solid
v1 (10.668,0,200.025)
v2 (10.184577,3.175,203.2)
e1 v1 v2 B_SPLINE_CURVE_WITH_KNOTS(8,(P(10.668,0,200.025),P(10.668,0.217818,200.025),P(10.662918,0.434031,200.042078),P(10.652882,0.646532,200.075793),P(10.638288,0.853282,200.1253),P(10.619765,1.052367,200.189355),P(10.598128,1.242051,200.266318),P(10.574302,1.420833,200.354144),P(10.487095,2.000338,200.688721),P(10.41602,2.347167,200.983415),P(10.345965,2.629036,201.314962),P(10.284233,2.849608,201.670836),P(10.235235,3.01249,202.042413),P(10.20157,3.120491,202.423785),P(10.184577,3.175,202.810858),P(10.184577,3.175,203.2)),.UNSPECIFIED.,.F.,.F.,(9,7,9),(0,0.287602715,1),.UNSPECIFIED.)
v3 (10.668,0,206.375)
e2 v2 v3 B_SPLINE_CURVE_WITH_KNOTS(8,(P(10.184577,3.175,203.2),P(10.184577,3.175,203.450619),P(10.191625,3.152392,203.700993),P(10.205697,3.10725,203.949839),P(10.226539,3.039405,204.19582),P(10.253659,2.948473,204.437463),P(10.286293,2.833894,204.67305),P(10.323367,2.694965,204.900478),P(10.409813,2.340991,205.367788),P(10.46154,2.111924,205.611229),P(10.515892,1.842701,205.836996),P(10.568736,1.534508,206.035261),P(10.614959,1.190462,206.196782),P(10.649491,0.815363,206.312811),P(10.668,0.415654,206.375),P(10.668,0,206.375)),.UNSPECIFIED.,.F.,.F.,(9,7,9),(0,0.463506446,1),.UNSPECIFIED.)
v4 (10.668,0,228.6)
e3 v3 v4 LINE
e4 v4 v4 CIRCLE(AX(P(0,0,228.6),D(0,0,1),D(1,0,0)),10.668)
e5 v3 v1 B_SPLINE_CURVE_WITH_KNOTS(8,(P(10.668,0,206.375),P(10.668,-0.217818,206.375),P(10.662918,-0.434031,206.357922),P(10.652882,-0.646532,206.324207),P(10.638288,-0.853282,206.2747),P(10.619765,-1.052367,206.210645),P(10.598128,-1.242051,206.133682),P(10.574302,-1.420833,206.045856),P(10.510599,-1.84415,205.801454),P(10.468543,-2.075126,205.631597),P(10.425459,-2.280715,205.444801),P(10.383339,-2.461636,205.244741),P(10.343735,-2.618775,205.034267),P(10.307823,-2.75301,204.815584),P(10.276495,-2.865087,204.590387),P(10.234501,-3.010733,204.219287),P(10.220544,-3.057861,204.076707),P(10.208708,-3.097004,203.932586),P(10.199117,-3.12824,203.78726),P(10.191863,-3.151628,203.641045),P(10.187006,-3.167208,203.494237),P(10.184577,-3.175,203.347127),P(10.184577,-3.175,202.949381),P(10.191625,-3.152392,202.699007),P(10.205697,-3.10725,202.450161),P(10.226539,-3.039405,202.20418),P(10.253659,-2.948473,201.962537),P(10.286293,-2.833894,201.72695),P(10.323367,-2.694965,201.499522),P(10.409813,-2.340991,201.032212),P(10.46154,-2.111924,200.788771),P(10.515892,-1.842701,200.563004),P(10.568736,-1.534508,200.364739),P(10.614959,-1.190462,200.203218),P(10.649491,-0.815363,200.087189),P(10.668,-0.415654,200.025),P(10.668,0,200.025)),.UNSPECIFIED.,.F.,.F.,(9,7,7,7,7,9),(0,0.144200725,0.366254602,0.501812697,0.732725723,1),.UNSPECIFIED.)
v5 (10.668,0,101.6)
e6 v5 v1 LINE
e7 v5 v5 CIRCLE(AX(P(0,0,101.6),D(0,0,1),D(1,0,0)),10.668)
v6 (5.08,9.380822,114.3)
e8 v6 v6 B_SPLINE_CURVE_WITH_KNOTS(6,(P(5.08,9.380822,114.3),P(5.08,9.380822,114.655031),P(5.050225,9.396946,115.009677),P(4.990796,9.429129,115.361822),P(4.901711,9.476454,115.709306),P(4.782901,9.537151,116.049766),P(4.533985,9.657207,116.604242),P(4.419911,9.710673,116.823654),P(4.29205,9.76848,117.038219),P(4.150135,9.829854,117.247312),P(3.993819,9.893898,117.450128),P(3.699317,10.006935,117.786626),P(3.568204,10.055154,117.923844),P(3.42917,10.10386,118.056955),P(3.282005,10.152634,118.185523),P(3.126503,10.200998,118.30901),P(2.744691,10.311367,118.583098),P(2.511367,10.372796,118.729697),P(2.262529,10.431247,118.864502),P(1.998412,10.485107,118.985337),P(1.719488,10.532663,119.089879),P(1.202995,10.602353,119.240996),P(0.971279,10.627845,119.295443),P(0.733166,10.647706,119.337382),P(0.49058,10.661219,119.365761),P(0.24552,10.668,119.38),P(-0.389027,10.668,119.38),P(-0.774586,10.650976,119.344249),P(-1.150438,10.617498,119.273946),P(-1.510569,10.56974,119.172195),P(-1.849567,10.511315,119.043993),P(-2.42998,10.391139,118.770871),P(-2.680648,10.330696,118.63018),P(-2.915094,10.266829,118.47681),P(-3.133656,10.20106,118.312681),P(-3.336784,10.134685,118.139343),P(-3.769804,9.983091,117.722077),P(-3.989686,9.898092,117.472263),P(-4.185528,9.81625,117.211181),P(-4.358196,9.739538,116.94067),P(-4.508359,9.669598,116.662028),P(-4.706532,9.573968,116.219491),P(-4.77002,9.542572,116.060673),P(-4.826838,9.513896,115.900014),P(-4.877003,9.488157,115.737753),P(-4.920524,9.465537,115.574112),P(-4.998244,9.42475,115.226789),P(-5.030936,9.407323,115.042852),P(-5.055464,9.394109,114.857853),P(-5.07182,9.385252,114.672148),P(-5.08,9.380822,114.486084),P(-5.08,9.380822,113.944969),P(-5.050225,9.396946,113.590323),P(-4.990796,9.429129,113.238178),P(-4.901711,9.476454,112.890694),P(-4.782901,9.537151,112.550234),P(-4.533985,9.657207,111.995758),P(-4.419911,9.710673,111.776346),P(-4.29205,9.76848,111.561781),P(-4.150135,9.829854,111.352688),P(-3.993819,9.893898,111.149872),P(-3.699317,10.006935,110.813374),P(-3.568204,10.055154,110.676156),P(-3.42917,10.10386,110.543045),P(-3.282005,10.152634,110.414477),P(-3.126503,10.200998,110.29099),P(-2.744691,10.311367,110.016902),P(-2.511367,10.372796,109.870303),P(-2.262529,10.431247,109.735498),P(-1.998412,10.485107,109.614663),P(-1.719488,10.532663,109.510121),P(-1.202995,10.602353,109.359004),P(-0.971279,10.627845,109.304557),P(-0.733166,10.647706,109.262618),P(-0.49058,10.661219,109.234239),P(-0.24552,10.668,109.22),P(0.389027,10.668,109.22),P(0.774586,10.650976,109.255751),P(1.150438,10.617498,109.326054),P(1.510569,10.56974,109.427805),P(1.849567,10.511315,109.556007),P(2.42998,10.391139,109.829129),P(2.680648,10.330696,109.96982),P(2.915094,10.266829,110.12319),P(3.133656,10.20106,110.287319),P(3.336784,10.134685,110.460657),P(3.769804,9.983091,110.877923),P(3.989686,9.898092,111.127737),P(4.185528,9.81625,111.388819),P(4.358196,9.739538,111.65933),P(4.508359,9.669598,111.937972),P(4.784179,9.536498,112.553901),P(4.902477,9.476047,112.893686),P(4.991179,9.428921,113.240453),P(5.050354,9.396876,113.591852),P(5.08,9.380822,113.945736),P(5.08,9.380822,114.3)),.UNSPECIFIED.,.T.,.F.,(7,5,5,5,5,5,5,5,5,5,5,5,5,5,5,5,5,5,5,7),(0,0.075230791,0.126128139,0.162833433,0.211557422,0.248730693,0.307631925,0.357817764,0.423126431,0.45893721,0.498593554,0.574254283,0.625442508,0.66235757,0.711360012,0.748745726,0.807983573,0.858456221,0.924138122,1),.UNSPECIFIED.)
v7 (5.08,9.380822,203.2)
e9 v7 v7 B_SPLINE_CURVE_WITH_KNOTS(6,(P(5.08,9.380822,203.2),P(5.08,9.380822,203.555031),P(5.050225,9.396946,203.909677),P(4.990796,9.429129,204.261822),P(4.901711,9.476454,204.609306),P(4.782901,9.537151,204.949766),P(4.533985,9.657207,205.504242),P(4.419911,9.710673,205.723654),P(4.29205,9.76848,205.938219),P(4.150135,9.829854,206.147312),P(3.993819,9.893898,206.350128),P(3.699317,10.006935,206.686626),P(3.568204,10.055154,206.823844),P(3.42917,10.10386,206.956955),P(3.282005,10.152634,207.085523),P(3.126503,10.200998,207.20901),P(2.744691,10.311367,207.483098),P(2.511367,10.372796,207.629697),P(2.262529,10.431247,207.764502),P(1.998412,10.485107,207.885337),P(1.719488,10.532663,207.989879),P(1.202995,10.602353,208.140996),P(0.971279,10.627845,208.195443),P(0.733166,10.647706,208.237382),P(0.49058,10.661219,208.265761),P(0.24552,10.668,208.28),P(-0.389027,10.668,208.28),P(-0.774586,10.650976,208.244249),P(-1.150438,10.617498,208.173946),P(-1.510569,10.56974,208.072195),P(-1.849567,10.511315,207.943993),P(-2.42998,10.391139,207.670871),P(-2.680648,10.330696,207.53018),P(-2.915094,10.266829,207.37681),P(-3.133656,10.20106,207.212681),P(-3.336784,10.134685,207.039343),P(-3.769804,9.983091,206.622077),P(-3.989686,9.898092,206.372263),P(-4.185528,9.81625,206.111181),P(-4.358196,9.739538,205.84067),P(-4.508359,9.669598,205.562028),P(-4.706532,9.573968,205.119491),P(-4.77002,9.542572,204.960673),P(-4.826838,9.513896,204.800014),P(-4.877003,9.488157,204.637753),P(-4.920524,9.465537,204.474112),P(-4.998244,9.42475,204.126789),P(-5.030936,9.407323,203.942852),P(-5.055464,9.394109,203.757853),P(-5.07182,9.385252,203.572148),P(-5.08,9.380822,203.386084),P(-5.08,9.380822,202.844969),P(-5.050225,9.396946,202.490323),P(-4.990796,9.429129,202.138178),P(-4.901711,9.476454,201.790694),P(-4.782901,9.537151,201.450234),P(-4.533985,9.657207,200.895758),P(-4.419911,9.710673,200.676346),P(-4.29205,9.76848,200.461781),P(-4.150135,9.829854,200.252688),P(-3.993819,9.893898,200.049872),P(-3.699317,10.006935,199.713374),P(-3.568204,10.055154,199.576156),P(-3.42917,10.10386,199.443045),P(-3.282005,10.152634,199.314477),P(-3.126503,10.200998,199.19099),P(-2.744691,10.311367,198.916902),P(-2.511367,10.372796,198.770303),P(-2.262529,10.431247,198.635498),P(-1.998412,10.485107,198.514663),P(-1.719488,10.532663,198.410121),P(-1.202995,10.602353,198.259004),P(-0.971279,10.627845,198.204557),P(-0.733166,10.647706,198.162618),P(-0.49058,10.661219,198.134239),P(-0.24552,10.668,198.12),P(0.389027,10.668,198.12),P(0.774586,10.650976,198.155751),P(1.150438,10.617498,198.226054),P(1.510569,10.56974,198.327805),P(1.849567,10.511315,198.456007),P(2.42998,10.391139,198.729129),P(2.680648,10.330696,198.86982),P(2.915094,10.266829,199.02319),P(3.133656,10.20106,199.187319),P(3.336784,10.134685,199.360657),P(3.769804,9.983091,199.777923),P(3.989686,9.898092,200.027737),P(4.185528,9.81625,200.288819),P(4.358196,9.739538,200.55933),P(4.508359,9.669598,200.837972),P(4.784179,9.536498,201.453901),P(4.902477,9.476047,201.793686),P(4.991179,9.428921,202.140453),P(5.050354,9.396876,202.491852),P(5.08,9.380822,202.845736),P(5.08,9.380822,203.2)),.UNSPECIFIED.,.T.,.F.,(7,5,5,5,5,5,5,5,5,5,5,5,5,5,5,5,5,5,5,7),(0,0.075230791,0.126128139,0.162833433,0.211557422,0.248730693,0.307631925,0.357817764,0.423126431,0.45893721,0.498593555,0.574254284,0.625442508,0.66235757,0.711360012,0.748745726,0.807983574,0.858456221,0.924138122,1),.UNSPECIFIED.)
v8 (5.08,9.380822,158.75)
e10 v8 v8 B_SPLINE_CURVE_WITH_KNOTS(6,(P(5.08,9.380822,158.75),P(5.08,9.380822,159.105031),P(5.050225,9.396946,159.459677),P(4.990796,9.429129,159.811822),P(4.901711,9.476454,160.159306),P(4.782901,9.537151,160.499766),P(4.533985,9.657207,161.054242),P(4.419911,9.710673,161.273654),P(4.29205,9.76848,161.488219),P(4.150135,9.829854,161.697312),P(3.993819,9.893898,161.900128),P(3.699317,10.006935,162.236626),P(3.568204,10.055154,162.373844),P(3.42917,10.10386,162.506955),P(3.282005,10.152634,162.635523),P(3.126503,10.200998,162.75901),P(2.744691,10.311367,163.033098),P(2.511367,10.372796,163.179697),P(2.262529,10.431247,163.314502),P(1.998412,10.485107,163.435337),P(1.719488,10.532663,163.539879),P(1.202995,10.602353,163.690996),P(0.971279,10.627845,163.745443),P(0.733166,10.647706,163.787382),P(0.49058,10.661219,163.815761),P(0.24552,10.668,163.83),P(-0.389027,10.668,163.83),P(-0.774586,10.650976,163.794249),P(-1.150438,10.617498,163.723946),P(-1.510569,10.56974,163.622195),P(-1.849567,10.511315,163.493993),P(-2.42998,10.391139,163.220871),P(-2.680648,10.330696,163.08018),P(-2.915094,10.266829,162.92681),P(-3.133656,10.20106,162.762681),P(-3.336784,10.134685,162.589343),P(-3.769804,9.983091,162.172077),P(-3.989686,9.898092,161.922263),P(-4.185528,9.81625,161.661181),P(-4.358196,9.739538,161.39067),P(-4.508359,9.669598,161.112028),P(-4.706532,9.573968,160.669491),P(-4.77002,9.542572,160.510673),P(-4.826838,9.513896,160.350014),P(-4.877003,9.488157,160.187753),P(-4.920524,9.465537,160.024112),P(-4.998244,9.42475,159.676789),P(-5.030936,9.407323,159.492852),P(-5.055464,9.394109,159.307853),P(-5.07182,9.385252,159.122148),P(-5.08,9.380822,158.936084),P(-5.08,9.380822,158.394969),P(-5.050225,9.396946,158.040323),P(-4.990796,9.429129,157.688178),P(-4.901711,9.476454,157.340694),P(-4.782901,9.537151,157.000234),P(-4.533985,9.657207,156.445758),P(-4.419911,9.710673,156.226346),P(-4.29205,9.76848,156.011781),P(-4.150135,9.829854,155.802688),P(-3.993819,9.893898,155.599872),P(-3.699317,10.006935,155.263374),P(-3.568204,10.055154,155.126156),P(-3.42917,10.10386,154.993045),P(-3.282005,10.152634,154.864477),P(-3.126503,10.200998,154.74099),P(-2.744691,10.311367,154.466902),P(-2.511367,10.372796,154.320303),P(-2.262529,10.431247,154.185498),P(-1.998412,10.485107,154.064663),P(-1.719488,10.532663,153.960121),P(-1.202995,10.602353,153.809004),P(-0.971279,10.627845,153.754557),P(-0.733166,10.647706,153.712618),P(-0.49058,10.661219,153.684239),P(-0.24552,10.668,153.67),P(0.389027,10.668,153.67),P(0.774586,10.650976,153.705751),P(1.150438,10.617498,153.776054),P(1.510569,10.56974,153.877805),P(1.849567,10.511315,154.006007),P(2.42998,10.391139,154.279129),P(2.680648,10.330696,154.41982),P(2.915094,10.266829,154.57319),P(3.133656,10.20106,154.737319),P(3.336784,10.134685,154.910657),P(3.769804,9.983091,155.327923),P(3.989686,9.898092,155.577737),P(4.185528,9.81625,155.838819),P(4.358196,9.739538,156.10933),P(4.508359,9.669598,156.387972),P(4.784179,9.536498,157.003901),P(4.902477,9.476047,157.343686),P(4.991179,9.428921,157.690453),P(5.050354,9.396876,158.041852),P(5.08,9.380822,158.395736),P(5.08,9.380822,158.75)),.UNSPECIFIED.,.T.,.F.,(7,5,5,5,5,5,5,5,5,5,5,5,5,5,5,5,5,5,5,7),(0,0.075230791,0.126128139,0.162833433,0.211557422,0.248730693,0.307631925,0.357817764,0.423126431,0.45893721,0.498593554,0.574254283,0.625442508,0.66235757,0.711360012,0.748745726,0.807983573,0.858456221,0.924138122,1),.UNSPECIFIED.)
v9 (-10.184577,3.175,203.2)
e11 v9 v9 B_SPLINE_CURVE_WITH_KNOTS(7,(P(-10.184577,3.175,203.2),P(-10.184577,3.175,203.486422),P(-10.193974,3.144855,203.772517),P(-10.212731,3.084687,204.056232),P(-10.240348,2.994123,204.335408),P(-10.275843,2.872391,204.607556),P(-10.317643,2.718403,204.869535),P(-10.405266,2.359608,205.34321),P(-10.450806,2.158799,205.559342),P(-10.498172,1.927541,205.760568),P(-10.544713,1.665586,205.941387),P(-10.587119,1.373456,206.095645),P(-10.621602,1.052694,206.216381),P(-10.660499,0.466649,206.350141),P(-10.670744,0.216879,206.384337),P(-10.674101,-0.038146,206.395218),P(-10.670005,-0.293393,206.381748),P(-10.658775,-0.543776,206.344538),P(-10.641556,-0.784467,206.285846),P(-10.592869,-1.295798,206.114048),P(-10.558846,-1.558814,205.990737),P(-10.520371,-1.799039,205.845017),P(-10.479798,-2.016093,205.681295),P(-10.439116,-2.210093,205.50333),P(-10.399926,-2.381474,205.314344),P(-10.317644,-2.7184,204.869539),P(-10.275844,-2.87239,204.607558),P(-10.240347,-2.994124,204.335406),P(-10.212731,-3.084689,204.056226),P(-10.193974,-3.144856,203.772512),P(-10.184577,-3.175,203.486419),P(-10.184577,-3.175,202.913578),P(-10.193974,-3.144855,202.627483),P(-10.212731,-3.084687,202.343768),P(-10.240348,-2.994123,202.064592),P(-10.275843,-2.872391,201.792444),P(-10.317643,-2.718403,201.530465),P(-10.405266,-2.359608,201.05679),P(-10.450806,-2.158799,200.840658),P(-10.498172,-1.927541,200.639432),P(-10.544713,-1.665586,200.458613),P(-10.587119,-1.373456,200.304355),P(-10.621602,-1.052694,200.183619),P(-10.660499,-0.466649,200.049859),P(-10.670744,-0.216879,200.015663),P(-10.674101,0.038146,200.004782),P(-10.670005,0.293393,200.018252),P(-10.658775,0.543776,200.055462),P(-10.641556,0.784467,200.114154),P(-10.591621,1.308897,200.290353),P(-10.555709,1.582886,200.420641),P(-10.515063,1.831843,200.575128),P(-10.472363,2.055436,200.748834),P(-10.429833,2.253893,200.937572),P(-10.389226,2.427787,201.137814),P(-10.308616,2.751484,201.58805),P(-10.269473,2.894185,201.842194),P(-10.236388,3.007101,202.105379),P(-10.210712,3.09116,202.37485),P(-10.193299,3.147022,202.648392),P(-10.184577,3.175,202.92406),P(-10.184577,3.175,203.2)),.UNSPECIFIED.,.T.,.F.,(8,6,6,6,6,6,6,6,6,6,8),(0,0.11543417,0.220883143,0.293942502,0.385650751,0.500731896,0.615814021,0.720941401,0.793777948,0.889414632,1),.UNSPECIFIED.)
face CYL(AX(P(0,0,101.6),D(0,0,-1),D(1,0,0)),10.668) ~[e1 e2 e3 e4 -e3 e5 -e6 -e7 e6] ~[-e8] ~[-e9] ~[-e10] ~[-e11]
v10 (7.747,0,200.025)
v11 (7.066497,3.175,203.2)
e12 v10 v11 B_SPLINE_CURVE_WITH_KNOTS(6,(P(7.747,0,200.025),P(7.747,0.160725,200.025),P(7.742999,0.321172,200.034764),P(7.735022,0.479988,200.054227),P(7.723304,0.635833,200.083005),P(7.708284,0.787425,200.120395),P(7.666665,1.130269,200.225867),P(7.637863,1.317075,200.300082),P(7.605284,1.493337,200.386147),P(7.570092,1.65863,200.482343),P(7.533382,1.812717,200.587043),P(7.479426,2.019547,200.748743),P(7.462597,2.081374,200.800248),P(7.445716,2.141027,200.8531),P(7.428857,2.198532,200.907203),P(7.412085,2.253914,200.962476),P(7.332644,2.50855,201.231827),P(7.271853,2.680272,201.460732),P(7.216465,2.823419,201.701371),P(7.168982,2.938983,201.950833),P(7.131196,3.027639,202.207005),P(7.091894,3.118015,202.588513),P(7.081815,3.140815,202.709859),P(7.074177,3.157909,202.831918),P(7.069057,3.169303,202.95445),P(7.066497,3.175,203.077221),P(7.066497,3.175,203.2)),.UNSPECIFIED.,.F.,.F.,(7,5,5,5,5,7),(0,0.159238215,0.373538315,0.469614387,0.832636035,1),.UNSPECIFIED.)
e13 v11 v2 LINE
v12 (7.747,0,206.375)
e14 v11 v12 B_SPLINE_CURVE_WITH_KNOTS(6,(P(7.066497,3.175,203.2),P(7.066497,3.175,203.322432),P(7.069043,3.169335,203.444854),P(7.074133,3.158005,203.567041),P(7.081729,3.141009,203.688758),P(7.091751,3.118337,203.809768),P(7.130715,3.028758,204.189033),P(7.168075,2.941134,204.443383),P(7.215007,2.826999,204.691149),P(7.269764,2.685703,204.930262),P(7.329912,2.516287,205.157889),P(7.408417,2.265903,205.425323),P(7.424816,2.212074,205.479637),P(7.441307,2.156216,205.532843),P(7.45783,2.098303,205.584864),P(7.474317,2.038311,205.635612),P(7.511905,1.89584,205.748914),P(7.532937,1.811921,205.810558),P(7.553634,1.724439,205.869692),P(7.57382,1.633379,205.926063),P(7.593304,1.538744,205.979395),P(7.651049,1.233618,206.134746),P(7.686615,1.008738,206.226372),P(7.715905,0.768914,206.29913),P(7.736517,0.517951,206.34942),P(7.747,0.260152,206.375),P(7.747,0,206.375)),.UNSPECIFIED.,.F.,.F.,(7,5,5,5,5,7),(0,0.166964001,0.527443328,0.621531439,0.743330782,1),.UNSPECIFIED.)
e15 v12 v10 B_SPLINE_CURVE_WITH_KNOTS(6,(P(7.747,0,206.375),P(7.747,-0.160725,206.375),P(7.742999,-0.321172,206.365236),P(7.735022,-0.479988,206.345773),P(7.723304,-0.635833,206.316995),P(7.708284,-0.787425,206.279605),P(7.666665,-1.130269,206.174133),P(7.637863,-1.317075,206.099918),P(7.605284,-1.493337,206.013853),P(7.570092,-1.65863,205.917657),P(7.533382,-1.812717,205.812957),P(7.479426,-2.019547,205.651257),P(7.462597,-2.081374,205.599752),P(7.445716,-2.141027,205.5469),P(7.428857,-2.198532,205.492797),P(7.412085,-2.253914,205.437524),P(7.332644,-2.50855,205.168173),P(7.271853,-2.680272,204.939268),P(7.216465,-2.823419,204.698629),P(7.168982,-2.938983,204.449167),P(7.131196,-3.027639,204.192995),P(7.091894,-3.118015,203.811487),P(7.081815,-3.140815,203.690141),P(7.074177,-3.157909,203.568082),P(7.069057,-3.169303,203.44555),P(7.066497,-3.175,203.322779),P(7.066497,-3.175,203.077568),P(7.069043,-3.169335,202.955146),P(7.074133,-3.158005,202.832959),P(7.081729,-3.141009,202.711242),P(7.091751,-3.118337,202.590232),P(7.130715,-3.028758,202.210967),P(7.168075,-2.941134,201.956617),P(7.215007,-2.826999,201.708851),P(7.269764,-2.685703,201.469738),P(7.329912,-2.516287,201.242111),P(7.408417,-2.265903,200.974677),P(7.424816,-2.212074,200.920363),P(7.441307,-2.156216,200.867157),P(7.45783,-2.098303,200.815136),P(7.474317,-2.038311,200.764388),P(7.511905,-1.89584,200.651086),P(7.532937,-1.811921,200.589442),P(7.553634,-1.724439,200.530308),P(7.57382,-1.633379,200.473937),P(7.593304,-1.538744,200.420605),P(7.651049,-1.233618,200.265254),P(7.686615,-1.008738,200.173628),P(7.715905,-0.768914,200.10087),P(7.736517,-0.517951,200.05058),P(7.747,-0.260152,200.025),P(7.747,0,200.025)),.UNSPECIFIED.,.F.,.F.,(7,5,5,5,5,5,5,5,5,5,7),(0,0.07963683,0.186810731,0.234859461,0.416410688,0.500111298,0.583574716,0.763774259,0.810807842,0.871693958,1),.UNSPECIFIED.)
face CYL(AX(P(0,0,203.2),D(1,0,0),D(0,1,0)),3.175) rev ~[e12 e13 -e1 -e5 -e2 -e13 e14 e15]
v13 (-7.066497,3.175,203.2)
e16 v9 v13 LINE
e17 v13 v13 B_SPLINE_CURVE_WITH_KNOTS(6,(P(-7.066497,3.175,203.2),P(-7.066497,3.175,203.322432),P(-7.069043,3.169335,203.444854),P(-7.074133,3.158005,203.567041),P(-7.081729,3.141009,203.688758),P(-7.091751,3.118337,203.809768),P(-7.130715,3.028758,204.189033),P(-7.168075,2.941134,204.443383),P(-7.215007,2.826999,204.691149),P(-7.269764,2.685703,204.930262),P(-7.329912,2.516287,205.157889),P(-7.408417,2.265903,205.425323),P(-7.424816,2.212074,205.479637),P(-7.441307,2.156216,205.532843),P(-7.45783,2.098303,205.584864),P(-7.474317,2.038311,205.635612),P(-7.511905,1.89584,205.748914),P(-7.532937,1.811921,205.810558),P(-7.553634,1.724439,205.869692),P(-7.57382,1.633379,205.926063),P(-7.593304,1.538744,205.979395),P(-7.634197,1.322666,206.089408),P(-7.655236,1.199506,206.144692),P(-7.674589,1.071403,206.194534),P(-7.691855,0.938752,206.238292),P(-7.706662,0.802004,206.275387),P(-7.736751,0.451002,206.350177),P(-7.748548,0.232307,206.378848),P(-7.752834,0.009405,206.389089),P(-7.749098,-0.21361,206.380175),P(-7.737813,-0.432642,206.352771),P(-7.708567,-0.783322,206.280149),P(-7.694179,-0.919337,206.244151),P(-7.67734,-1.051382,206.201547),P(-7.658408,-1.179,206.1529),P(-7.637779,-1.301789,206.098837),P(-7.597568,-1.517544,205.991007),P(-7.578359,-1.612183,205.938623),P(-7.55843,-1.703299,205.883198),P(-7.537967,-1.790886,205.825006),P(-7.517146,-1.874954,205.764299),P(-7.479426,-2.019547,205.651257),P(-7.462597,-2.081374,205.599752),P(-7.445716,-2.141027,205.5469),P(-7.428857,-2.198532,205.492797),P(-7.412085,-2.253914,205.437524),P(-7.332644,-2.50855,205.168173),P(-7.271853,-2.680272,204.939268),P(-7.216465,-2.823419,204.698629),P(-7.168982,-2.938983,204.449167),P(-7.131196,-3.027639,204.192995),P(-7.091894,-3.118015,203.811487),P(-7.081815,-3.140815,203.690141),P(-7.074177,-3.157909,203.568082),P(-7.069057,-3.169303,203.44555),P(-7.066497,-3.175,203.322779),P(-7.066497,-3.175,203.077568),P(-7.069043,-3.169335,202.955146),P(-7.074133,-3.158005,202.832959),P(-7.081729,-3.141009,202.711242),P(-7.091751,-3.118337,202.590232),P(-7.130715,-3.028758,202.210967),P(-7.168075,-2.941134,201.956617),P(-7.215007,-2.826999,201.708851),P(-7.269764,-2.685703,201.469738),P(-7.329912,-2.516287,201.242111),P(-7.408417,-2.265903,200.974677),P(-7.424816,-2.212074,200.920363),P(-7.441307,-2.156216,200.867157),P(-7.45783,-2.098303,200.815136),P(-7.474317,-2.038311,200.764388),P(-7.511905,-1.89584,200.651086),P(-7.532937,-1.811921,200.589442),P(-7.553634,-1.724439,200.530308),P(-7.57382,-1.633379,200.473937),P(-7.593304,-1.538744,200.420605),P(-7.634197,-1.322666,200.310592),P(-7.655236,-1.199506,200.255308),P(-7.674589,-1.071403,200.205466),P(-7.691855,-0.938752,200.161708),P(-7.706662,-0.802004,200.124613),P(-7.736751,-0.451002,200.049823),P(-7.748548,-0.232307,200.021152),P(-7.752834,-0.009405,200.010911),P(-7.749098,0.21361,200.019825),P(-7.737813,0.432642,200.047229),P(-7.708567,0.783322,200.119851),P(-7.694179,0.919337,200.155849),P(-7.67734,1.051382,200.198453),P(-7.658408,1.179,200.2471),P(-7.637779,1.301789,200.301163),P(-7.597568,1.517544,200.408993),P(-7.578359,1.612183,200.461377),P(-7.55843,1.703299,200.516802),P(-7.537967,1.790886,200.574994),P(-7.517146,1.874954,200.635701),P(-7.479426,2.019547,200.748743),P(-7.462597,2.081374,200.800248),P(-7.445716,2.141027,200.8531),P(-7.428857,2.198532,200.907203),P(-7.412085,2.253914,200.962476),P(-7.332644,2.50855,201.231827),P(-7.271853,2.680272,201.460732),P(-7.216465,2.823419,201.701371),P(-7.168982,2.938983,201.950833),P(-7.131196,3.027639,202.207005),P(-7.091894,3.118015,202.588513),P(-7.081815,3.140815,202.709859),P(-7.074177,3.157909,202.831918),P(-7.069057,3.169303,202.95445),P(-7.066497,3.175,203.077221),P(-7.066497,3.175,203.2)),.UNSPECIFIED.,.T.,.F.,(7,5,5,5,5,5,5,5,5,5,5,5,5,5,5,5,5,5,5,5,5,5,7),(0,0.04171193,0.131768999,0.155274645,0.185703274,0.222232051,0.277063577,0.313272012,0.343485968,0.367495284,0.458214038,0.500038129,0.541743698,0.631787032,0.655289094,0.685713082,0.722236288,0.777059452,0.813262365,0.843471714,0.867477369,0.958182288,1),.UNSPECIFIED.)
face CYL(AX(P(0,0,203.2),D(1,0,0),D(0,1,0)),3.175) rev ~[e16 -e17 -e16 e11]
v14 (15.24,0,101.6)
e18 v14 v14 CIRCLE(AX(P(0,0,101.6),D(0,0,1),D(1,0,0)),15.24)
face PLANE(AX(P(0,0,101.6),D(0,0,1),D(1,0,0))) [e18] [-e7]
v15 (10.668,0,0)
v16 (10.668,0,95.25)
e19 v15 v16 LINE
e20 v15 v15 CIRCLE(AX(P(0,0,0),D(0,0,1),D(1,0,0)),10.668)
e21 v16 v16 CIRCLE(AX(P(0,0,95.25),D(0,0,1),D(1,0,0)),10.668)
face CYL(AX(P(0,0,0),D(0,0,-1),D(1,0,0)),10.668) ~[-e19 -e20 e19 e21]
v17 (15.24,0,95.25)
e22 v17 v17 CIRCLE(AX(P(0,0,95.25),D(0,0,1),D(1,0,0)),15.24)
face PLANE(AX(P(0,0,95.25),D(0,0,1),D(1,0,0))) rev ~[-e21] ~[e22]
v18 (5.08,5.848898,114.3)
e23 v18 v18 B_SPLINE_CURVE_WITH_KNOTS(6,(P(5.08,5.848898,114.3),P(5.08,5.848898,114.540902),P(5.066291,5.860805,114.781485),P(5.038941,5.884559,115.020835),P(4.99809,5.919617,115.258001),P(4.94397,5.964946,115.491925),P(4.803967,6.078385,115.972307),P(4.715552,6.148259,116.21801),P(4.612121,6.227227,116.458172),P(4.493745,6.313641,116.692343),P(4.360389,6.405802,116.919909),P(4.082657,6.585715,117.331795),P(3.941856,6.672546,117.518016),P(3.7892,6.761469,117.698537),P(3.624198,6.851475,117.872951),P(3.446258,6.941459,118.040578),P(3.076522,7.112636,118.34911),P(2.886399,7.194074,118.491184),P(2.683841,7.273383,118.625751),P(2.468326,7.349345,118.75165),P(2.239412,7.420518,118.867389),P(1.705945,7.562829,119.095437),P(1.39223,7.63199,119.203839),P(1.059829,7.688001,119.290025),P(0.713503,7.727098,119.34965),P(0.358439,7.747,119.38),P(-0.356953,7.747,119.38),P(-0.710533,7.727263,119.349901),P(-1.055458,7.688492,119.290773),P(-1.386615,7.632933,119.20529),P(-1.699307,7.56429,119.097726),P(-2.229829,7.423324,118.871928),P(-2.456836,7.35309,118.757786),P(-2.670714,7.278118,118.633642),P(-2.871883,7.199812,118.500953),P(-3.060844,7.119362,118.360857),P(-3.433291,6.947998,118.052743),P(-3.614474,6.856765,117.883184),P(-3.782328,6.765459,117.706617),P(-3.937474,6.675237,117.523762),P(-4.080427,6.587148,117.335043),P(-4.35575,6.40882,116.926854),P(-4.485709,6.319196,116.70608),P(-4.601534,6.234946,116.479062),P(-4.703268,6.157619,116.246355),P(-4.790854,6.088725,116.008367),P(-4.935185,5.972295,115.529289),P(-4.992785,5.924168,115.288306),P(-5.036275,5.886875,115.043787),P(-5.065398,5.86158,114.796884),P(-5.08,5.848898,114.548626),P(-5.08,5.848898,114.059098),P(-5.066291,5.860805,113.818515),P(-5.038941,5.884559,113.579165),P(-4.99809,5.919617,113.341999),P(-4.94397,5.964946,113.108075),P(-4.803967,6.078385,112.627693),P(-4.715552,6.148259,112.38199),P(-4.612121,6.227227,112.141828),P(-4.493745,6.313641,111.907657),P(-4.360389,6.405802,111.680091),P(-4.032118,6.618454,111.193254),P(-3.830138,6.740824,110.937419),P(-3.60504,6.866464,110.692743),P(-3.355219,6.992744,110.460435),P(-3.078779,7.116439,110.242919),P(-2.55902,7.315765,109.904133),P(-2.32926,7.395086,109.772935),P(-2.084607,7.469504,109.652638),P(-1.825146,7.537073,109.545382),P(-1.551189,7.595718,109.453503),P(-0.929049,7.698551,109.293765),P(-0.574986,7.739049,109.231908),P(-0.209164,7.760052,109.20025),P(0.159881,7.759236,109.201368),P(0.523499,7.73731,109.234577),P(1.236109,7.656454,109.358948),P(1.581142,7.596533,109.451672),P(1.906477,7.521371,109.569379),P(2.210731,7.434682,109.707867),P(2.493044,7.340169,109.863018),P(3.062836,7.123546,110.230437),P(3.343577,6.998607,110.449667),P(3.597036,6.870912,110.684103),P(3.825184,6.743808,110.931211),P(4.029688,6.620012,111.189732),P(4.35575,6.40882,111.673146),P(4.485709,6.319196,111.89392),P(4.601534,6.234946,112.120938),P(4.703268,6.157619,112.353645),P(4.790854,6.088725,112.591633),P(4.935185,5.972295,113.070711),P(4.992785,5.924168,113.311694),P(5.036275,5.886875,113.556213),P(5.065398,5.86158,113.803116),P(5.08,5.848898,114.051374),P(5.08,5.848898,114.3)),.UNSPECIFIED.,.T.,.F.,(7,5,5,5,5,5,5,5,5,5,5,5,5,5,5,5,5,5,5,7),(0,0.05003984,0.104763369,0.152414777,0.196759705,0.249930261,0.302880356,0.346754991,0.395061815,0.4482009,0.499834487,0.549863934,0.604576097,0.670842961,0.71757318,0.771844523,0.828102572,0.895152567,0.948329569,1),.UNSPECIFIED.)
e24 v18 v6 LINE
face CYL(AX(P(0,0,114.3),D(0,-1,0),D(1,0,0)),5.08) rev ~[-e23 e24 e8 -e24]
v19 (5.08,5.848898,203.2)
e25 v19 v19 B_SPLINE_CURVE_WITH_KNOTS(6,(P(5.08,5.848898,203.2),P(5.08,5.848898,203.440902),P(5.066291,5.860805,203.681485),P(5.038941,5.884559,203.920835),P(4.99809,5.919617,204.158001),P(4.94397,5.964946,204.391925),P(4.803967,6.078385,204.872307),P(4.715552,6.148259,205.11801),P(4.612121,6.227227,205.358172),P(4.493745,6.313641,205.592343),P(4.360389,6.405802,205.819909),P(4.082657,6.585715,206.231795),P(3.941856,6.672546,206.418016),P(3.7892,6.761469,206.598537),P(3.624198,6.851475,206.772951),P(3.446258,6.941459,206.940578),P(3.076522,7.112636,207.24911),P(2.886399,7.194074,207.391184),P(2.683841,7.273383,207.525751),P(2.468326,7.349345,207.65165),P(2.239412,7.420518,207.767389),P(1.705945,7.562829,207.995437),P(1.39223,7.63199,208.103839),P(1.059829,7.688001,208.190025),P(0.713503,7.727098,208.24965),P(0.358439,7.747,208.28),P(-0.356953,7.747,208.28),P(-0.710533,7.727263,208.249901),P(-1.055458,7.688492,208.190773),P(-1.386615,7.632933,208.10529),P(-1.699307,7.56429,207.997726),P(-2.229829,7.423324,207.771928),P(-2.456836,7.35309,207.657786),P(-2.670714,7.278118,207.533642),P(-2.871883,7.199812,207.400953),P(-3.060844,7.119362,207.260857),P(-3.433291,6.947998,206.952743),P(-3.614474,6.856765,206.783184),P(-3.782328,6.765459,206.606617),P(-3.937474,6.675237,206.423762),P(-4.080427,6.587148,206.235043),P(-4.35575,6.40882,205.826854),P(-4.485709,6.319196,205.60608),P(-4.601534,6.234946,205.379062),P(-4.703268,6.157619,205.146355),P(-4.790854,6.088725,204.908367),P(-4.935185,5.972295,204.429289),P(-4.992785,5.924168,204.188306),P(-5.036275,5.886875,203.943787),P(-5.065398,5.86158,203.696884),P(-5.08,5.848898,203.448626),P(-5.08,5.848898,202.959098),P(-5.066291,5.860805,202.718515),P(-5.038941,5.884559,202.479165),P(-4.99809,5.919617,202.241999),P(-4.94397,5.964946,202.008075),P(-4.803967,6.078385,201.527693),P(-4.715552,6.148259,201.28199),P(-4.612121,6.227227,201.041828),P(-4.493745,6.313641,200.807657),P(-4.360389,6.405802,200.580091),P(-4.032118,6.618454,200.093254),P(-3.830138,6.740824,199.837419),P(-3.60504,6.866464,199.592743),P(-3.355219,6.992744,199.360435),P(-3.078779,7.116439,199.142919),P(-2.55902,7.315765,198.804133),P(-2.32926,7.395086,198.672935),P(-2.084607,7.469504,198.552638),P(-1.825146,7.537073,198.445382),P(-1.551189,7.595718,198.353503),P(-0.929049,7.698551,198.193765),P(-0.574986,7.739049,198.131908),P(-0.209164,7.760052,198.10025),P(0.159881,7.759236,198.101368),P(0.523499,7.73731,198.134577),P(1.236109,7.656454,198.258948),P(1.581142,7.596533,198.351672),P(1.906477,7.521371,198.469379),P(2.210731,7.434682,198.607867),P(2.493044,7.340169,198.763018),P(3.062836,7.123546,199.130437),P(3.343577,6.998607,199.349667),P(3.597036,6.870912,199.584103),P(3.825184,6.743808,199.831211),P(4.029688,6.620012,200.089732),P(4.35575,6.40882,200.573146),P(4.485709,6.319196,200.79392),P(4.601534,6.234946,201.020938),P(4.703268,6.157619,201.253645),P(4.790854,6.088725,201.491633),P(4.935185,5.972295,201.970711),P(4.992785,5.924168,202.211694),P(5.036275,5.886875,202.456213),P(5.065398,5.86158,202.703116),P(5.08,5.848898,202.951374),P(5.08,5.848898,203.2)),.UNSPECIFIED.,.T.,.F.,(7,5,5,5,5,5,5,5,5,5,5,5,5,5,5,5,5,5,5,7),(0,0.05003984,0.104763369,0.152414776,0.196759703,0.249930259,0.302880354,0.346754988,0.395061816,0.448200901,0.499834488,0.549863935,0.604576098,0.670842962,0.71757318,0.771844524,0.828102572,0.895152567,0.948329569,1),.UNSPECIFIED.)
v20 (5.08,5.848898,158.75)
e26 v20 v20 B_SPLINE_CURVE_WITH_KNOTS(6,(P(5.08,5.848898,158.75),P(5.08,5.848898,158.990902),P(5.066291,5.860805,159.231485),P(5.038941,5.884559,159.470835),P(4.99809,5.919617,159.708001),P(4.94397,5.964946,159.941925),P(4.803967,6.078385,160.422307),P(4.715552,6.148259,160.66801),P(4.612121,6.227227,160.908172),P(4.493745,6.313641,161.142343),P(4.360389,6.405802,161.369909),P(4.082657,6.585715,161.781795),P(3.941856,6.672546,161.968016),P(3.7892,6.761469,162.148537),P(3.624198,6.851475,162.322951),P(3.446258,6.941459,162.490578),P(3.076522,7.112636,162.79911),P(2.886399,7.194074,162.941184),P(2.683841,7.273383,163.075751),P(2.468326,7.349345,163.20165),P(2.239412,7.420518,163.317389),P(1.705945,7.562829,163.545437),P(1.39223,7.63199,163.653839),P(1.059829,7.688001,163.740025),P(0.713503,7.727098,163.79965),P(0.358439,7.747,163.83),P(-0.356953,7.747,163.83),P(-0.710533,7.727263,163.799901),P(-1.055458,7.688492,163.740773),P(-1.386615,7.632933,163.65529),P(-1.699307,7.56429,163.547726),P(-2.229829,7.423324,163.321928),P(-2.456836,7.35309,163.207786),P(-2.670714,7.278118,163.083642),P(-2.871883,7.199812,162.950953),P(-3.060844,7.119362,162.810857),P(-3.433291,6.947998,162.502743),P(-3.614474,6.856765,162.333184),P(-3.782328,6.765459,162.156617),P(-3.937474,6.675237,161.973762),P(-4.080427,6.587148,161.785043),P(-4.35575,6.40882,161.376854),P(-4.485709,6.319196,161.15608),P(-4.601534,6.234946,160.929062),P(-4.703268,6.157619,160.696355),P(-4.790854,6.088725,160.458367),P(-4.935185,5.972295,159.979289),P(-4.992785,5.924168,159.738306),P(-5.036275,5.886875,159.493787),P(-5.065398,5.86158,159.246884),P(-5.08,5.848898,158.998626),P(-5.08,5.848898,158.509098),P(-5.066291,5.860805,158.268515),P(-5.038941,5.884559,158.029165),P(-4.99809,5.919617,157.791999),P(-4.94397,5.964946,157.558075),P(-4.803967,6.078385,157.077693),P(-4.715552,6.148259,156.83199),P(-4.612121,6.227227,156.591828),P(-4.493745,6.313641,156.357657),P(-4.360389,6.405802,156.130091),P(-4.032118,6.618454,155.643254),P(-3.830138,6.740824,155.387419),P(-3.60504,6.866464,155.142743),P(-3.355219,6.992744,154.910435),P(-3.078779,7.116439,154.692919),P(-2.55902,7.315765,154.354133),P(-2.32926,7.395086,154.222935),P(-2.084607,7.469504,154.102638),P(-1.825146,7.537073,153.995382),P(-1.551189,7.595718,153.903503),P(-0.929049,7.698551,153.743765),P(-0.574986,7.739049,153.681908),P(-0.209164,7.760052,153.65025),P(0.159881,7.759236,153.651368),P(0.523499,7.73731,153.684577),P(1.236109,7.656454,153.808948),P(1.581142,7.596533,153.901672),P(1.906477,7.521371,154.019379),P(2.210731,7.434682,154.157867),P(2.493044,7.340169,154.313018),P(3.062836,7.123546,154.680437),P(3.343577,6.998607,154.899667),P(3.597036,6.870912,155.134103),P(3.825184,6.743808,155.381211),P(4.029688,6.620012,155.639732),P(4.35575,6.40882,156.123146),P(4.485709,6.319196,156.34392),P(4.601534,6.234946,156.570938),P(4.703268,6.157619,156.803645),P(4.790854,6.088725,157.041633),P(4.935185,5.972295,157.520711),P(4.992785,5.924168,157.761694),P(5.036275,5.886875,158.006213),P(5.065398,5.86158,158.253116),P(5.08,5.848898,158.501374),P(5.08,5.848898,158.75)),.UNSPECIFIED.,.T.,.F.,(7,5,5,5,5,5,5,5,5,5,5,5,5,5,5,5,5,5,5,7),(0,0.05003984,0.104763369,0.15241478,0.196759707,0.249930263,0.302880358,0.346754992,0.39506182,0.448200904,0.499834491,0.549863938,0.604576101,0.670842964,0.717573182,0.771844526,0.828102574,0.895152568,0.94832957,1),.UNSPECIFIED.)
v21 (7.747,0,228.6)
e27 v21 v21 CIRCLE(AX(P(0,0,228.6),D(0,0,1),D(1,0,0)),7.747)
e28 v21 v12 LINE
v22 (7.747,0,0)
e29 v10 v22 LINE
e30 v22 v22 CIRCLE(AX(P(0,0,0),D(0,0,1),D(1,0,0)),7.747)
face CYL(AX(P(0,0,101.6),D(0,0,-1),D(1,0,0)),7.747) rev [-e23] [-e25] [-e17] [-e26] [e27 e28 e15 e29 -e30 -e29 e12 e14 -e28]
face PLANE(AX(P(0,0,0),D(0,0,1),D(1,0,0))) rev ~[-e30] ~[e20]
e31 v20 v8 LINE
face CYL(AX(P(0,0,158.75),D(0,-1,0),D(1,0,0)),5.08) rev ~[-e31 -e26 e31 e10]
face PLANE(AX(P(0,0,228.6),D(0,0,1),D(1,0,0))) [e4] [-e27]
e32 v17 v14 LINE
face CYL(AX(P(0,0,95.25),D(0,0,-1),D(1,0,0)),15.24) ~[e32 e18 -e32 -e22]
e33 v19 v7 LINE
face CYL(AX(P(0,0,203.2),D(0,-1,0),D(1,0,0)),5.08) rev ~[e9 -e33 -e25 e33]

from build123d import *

# Parameters (mm, degrees)
F0_R     = 10.668
F0_R_2   = 7.747
F1_DEPTH = 95.25
F2_R     = 15.24
F2_R_2   = 10.668
F2_R_3   = 7.747
F3_DEPTH = 6.35
F4_R     = 10.668
F4_R_2   = 7.747
F5_DEPTH = 127
F6_R     = 3.175
F7_DEPTH = 12.7
F8_R     = 5.08
F9_DEPTH = 25.4


with BuildPart() as f1:
    # F0 (on Top) → F1 (new body)
    with BuildSketch(Plane.XY):
        Circle(F0_R)
        Circle(F0_R_2, mode=Mode.SUBTRACT)
    extrude(amount=F1_DEPTH)

    # F2 (on face) → F3 (join)
    with BuildSketch(Plane.XY.offset(95.25)):
        Circle(F2_R)
        Circle(F2_R_2, mode=Mode.SUBTRACT)
        Circle(F2_R_2)
        Circle(F2_R_3, mode=Mode.SUBTRACT)
    extrude(amount=F3_DEPTH)

    # F4 (on face) → F5 (join)
    with BuildSketch(Plane.XY.offset(101.6)):
        Circle(F4_R)
        Circle(F4_R_2, mode=Mode.SUBTRACT)
    extrude(amount=F5_DEPTH)

    # F6 (on Right) → F7 (cut, symmetric)
    with BuildSketch(Plane.YZ):
        with Locations((0, 203.2)):
            Circle(F6_R)
    extrude(amount=F7_DEPTH, both=True, mode=Mode.SUBTRACT)

    # F8 (on Front) → F9 (cut)
    with BuildSketch(Plane.XZ):
        with Locations((0, 114.3)):
            Circle(F8_R)
        with Locations((0, 158.75)):
            Circle(F8_R)
        with Locations((0, 203.2)):
            Circle(F8_R)
    extrude(amount=-F9_DEPTH, mode=Mode.SUBTRACT)


solid = f1.part
